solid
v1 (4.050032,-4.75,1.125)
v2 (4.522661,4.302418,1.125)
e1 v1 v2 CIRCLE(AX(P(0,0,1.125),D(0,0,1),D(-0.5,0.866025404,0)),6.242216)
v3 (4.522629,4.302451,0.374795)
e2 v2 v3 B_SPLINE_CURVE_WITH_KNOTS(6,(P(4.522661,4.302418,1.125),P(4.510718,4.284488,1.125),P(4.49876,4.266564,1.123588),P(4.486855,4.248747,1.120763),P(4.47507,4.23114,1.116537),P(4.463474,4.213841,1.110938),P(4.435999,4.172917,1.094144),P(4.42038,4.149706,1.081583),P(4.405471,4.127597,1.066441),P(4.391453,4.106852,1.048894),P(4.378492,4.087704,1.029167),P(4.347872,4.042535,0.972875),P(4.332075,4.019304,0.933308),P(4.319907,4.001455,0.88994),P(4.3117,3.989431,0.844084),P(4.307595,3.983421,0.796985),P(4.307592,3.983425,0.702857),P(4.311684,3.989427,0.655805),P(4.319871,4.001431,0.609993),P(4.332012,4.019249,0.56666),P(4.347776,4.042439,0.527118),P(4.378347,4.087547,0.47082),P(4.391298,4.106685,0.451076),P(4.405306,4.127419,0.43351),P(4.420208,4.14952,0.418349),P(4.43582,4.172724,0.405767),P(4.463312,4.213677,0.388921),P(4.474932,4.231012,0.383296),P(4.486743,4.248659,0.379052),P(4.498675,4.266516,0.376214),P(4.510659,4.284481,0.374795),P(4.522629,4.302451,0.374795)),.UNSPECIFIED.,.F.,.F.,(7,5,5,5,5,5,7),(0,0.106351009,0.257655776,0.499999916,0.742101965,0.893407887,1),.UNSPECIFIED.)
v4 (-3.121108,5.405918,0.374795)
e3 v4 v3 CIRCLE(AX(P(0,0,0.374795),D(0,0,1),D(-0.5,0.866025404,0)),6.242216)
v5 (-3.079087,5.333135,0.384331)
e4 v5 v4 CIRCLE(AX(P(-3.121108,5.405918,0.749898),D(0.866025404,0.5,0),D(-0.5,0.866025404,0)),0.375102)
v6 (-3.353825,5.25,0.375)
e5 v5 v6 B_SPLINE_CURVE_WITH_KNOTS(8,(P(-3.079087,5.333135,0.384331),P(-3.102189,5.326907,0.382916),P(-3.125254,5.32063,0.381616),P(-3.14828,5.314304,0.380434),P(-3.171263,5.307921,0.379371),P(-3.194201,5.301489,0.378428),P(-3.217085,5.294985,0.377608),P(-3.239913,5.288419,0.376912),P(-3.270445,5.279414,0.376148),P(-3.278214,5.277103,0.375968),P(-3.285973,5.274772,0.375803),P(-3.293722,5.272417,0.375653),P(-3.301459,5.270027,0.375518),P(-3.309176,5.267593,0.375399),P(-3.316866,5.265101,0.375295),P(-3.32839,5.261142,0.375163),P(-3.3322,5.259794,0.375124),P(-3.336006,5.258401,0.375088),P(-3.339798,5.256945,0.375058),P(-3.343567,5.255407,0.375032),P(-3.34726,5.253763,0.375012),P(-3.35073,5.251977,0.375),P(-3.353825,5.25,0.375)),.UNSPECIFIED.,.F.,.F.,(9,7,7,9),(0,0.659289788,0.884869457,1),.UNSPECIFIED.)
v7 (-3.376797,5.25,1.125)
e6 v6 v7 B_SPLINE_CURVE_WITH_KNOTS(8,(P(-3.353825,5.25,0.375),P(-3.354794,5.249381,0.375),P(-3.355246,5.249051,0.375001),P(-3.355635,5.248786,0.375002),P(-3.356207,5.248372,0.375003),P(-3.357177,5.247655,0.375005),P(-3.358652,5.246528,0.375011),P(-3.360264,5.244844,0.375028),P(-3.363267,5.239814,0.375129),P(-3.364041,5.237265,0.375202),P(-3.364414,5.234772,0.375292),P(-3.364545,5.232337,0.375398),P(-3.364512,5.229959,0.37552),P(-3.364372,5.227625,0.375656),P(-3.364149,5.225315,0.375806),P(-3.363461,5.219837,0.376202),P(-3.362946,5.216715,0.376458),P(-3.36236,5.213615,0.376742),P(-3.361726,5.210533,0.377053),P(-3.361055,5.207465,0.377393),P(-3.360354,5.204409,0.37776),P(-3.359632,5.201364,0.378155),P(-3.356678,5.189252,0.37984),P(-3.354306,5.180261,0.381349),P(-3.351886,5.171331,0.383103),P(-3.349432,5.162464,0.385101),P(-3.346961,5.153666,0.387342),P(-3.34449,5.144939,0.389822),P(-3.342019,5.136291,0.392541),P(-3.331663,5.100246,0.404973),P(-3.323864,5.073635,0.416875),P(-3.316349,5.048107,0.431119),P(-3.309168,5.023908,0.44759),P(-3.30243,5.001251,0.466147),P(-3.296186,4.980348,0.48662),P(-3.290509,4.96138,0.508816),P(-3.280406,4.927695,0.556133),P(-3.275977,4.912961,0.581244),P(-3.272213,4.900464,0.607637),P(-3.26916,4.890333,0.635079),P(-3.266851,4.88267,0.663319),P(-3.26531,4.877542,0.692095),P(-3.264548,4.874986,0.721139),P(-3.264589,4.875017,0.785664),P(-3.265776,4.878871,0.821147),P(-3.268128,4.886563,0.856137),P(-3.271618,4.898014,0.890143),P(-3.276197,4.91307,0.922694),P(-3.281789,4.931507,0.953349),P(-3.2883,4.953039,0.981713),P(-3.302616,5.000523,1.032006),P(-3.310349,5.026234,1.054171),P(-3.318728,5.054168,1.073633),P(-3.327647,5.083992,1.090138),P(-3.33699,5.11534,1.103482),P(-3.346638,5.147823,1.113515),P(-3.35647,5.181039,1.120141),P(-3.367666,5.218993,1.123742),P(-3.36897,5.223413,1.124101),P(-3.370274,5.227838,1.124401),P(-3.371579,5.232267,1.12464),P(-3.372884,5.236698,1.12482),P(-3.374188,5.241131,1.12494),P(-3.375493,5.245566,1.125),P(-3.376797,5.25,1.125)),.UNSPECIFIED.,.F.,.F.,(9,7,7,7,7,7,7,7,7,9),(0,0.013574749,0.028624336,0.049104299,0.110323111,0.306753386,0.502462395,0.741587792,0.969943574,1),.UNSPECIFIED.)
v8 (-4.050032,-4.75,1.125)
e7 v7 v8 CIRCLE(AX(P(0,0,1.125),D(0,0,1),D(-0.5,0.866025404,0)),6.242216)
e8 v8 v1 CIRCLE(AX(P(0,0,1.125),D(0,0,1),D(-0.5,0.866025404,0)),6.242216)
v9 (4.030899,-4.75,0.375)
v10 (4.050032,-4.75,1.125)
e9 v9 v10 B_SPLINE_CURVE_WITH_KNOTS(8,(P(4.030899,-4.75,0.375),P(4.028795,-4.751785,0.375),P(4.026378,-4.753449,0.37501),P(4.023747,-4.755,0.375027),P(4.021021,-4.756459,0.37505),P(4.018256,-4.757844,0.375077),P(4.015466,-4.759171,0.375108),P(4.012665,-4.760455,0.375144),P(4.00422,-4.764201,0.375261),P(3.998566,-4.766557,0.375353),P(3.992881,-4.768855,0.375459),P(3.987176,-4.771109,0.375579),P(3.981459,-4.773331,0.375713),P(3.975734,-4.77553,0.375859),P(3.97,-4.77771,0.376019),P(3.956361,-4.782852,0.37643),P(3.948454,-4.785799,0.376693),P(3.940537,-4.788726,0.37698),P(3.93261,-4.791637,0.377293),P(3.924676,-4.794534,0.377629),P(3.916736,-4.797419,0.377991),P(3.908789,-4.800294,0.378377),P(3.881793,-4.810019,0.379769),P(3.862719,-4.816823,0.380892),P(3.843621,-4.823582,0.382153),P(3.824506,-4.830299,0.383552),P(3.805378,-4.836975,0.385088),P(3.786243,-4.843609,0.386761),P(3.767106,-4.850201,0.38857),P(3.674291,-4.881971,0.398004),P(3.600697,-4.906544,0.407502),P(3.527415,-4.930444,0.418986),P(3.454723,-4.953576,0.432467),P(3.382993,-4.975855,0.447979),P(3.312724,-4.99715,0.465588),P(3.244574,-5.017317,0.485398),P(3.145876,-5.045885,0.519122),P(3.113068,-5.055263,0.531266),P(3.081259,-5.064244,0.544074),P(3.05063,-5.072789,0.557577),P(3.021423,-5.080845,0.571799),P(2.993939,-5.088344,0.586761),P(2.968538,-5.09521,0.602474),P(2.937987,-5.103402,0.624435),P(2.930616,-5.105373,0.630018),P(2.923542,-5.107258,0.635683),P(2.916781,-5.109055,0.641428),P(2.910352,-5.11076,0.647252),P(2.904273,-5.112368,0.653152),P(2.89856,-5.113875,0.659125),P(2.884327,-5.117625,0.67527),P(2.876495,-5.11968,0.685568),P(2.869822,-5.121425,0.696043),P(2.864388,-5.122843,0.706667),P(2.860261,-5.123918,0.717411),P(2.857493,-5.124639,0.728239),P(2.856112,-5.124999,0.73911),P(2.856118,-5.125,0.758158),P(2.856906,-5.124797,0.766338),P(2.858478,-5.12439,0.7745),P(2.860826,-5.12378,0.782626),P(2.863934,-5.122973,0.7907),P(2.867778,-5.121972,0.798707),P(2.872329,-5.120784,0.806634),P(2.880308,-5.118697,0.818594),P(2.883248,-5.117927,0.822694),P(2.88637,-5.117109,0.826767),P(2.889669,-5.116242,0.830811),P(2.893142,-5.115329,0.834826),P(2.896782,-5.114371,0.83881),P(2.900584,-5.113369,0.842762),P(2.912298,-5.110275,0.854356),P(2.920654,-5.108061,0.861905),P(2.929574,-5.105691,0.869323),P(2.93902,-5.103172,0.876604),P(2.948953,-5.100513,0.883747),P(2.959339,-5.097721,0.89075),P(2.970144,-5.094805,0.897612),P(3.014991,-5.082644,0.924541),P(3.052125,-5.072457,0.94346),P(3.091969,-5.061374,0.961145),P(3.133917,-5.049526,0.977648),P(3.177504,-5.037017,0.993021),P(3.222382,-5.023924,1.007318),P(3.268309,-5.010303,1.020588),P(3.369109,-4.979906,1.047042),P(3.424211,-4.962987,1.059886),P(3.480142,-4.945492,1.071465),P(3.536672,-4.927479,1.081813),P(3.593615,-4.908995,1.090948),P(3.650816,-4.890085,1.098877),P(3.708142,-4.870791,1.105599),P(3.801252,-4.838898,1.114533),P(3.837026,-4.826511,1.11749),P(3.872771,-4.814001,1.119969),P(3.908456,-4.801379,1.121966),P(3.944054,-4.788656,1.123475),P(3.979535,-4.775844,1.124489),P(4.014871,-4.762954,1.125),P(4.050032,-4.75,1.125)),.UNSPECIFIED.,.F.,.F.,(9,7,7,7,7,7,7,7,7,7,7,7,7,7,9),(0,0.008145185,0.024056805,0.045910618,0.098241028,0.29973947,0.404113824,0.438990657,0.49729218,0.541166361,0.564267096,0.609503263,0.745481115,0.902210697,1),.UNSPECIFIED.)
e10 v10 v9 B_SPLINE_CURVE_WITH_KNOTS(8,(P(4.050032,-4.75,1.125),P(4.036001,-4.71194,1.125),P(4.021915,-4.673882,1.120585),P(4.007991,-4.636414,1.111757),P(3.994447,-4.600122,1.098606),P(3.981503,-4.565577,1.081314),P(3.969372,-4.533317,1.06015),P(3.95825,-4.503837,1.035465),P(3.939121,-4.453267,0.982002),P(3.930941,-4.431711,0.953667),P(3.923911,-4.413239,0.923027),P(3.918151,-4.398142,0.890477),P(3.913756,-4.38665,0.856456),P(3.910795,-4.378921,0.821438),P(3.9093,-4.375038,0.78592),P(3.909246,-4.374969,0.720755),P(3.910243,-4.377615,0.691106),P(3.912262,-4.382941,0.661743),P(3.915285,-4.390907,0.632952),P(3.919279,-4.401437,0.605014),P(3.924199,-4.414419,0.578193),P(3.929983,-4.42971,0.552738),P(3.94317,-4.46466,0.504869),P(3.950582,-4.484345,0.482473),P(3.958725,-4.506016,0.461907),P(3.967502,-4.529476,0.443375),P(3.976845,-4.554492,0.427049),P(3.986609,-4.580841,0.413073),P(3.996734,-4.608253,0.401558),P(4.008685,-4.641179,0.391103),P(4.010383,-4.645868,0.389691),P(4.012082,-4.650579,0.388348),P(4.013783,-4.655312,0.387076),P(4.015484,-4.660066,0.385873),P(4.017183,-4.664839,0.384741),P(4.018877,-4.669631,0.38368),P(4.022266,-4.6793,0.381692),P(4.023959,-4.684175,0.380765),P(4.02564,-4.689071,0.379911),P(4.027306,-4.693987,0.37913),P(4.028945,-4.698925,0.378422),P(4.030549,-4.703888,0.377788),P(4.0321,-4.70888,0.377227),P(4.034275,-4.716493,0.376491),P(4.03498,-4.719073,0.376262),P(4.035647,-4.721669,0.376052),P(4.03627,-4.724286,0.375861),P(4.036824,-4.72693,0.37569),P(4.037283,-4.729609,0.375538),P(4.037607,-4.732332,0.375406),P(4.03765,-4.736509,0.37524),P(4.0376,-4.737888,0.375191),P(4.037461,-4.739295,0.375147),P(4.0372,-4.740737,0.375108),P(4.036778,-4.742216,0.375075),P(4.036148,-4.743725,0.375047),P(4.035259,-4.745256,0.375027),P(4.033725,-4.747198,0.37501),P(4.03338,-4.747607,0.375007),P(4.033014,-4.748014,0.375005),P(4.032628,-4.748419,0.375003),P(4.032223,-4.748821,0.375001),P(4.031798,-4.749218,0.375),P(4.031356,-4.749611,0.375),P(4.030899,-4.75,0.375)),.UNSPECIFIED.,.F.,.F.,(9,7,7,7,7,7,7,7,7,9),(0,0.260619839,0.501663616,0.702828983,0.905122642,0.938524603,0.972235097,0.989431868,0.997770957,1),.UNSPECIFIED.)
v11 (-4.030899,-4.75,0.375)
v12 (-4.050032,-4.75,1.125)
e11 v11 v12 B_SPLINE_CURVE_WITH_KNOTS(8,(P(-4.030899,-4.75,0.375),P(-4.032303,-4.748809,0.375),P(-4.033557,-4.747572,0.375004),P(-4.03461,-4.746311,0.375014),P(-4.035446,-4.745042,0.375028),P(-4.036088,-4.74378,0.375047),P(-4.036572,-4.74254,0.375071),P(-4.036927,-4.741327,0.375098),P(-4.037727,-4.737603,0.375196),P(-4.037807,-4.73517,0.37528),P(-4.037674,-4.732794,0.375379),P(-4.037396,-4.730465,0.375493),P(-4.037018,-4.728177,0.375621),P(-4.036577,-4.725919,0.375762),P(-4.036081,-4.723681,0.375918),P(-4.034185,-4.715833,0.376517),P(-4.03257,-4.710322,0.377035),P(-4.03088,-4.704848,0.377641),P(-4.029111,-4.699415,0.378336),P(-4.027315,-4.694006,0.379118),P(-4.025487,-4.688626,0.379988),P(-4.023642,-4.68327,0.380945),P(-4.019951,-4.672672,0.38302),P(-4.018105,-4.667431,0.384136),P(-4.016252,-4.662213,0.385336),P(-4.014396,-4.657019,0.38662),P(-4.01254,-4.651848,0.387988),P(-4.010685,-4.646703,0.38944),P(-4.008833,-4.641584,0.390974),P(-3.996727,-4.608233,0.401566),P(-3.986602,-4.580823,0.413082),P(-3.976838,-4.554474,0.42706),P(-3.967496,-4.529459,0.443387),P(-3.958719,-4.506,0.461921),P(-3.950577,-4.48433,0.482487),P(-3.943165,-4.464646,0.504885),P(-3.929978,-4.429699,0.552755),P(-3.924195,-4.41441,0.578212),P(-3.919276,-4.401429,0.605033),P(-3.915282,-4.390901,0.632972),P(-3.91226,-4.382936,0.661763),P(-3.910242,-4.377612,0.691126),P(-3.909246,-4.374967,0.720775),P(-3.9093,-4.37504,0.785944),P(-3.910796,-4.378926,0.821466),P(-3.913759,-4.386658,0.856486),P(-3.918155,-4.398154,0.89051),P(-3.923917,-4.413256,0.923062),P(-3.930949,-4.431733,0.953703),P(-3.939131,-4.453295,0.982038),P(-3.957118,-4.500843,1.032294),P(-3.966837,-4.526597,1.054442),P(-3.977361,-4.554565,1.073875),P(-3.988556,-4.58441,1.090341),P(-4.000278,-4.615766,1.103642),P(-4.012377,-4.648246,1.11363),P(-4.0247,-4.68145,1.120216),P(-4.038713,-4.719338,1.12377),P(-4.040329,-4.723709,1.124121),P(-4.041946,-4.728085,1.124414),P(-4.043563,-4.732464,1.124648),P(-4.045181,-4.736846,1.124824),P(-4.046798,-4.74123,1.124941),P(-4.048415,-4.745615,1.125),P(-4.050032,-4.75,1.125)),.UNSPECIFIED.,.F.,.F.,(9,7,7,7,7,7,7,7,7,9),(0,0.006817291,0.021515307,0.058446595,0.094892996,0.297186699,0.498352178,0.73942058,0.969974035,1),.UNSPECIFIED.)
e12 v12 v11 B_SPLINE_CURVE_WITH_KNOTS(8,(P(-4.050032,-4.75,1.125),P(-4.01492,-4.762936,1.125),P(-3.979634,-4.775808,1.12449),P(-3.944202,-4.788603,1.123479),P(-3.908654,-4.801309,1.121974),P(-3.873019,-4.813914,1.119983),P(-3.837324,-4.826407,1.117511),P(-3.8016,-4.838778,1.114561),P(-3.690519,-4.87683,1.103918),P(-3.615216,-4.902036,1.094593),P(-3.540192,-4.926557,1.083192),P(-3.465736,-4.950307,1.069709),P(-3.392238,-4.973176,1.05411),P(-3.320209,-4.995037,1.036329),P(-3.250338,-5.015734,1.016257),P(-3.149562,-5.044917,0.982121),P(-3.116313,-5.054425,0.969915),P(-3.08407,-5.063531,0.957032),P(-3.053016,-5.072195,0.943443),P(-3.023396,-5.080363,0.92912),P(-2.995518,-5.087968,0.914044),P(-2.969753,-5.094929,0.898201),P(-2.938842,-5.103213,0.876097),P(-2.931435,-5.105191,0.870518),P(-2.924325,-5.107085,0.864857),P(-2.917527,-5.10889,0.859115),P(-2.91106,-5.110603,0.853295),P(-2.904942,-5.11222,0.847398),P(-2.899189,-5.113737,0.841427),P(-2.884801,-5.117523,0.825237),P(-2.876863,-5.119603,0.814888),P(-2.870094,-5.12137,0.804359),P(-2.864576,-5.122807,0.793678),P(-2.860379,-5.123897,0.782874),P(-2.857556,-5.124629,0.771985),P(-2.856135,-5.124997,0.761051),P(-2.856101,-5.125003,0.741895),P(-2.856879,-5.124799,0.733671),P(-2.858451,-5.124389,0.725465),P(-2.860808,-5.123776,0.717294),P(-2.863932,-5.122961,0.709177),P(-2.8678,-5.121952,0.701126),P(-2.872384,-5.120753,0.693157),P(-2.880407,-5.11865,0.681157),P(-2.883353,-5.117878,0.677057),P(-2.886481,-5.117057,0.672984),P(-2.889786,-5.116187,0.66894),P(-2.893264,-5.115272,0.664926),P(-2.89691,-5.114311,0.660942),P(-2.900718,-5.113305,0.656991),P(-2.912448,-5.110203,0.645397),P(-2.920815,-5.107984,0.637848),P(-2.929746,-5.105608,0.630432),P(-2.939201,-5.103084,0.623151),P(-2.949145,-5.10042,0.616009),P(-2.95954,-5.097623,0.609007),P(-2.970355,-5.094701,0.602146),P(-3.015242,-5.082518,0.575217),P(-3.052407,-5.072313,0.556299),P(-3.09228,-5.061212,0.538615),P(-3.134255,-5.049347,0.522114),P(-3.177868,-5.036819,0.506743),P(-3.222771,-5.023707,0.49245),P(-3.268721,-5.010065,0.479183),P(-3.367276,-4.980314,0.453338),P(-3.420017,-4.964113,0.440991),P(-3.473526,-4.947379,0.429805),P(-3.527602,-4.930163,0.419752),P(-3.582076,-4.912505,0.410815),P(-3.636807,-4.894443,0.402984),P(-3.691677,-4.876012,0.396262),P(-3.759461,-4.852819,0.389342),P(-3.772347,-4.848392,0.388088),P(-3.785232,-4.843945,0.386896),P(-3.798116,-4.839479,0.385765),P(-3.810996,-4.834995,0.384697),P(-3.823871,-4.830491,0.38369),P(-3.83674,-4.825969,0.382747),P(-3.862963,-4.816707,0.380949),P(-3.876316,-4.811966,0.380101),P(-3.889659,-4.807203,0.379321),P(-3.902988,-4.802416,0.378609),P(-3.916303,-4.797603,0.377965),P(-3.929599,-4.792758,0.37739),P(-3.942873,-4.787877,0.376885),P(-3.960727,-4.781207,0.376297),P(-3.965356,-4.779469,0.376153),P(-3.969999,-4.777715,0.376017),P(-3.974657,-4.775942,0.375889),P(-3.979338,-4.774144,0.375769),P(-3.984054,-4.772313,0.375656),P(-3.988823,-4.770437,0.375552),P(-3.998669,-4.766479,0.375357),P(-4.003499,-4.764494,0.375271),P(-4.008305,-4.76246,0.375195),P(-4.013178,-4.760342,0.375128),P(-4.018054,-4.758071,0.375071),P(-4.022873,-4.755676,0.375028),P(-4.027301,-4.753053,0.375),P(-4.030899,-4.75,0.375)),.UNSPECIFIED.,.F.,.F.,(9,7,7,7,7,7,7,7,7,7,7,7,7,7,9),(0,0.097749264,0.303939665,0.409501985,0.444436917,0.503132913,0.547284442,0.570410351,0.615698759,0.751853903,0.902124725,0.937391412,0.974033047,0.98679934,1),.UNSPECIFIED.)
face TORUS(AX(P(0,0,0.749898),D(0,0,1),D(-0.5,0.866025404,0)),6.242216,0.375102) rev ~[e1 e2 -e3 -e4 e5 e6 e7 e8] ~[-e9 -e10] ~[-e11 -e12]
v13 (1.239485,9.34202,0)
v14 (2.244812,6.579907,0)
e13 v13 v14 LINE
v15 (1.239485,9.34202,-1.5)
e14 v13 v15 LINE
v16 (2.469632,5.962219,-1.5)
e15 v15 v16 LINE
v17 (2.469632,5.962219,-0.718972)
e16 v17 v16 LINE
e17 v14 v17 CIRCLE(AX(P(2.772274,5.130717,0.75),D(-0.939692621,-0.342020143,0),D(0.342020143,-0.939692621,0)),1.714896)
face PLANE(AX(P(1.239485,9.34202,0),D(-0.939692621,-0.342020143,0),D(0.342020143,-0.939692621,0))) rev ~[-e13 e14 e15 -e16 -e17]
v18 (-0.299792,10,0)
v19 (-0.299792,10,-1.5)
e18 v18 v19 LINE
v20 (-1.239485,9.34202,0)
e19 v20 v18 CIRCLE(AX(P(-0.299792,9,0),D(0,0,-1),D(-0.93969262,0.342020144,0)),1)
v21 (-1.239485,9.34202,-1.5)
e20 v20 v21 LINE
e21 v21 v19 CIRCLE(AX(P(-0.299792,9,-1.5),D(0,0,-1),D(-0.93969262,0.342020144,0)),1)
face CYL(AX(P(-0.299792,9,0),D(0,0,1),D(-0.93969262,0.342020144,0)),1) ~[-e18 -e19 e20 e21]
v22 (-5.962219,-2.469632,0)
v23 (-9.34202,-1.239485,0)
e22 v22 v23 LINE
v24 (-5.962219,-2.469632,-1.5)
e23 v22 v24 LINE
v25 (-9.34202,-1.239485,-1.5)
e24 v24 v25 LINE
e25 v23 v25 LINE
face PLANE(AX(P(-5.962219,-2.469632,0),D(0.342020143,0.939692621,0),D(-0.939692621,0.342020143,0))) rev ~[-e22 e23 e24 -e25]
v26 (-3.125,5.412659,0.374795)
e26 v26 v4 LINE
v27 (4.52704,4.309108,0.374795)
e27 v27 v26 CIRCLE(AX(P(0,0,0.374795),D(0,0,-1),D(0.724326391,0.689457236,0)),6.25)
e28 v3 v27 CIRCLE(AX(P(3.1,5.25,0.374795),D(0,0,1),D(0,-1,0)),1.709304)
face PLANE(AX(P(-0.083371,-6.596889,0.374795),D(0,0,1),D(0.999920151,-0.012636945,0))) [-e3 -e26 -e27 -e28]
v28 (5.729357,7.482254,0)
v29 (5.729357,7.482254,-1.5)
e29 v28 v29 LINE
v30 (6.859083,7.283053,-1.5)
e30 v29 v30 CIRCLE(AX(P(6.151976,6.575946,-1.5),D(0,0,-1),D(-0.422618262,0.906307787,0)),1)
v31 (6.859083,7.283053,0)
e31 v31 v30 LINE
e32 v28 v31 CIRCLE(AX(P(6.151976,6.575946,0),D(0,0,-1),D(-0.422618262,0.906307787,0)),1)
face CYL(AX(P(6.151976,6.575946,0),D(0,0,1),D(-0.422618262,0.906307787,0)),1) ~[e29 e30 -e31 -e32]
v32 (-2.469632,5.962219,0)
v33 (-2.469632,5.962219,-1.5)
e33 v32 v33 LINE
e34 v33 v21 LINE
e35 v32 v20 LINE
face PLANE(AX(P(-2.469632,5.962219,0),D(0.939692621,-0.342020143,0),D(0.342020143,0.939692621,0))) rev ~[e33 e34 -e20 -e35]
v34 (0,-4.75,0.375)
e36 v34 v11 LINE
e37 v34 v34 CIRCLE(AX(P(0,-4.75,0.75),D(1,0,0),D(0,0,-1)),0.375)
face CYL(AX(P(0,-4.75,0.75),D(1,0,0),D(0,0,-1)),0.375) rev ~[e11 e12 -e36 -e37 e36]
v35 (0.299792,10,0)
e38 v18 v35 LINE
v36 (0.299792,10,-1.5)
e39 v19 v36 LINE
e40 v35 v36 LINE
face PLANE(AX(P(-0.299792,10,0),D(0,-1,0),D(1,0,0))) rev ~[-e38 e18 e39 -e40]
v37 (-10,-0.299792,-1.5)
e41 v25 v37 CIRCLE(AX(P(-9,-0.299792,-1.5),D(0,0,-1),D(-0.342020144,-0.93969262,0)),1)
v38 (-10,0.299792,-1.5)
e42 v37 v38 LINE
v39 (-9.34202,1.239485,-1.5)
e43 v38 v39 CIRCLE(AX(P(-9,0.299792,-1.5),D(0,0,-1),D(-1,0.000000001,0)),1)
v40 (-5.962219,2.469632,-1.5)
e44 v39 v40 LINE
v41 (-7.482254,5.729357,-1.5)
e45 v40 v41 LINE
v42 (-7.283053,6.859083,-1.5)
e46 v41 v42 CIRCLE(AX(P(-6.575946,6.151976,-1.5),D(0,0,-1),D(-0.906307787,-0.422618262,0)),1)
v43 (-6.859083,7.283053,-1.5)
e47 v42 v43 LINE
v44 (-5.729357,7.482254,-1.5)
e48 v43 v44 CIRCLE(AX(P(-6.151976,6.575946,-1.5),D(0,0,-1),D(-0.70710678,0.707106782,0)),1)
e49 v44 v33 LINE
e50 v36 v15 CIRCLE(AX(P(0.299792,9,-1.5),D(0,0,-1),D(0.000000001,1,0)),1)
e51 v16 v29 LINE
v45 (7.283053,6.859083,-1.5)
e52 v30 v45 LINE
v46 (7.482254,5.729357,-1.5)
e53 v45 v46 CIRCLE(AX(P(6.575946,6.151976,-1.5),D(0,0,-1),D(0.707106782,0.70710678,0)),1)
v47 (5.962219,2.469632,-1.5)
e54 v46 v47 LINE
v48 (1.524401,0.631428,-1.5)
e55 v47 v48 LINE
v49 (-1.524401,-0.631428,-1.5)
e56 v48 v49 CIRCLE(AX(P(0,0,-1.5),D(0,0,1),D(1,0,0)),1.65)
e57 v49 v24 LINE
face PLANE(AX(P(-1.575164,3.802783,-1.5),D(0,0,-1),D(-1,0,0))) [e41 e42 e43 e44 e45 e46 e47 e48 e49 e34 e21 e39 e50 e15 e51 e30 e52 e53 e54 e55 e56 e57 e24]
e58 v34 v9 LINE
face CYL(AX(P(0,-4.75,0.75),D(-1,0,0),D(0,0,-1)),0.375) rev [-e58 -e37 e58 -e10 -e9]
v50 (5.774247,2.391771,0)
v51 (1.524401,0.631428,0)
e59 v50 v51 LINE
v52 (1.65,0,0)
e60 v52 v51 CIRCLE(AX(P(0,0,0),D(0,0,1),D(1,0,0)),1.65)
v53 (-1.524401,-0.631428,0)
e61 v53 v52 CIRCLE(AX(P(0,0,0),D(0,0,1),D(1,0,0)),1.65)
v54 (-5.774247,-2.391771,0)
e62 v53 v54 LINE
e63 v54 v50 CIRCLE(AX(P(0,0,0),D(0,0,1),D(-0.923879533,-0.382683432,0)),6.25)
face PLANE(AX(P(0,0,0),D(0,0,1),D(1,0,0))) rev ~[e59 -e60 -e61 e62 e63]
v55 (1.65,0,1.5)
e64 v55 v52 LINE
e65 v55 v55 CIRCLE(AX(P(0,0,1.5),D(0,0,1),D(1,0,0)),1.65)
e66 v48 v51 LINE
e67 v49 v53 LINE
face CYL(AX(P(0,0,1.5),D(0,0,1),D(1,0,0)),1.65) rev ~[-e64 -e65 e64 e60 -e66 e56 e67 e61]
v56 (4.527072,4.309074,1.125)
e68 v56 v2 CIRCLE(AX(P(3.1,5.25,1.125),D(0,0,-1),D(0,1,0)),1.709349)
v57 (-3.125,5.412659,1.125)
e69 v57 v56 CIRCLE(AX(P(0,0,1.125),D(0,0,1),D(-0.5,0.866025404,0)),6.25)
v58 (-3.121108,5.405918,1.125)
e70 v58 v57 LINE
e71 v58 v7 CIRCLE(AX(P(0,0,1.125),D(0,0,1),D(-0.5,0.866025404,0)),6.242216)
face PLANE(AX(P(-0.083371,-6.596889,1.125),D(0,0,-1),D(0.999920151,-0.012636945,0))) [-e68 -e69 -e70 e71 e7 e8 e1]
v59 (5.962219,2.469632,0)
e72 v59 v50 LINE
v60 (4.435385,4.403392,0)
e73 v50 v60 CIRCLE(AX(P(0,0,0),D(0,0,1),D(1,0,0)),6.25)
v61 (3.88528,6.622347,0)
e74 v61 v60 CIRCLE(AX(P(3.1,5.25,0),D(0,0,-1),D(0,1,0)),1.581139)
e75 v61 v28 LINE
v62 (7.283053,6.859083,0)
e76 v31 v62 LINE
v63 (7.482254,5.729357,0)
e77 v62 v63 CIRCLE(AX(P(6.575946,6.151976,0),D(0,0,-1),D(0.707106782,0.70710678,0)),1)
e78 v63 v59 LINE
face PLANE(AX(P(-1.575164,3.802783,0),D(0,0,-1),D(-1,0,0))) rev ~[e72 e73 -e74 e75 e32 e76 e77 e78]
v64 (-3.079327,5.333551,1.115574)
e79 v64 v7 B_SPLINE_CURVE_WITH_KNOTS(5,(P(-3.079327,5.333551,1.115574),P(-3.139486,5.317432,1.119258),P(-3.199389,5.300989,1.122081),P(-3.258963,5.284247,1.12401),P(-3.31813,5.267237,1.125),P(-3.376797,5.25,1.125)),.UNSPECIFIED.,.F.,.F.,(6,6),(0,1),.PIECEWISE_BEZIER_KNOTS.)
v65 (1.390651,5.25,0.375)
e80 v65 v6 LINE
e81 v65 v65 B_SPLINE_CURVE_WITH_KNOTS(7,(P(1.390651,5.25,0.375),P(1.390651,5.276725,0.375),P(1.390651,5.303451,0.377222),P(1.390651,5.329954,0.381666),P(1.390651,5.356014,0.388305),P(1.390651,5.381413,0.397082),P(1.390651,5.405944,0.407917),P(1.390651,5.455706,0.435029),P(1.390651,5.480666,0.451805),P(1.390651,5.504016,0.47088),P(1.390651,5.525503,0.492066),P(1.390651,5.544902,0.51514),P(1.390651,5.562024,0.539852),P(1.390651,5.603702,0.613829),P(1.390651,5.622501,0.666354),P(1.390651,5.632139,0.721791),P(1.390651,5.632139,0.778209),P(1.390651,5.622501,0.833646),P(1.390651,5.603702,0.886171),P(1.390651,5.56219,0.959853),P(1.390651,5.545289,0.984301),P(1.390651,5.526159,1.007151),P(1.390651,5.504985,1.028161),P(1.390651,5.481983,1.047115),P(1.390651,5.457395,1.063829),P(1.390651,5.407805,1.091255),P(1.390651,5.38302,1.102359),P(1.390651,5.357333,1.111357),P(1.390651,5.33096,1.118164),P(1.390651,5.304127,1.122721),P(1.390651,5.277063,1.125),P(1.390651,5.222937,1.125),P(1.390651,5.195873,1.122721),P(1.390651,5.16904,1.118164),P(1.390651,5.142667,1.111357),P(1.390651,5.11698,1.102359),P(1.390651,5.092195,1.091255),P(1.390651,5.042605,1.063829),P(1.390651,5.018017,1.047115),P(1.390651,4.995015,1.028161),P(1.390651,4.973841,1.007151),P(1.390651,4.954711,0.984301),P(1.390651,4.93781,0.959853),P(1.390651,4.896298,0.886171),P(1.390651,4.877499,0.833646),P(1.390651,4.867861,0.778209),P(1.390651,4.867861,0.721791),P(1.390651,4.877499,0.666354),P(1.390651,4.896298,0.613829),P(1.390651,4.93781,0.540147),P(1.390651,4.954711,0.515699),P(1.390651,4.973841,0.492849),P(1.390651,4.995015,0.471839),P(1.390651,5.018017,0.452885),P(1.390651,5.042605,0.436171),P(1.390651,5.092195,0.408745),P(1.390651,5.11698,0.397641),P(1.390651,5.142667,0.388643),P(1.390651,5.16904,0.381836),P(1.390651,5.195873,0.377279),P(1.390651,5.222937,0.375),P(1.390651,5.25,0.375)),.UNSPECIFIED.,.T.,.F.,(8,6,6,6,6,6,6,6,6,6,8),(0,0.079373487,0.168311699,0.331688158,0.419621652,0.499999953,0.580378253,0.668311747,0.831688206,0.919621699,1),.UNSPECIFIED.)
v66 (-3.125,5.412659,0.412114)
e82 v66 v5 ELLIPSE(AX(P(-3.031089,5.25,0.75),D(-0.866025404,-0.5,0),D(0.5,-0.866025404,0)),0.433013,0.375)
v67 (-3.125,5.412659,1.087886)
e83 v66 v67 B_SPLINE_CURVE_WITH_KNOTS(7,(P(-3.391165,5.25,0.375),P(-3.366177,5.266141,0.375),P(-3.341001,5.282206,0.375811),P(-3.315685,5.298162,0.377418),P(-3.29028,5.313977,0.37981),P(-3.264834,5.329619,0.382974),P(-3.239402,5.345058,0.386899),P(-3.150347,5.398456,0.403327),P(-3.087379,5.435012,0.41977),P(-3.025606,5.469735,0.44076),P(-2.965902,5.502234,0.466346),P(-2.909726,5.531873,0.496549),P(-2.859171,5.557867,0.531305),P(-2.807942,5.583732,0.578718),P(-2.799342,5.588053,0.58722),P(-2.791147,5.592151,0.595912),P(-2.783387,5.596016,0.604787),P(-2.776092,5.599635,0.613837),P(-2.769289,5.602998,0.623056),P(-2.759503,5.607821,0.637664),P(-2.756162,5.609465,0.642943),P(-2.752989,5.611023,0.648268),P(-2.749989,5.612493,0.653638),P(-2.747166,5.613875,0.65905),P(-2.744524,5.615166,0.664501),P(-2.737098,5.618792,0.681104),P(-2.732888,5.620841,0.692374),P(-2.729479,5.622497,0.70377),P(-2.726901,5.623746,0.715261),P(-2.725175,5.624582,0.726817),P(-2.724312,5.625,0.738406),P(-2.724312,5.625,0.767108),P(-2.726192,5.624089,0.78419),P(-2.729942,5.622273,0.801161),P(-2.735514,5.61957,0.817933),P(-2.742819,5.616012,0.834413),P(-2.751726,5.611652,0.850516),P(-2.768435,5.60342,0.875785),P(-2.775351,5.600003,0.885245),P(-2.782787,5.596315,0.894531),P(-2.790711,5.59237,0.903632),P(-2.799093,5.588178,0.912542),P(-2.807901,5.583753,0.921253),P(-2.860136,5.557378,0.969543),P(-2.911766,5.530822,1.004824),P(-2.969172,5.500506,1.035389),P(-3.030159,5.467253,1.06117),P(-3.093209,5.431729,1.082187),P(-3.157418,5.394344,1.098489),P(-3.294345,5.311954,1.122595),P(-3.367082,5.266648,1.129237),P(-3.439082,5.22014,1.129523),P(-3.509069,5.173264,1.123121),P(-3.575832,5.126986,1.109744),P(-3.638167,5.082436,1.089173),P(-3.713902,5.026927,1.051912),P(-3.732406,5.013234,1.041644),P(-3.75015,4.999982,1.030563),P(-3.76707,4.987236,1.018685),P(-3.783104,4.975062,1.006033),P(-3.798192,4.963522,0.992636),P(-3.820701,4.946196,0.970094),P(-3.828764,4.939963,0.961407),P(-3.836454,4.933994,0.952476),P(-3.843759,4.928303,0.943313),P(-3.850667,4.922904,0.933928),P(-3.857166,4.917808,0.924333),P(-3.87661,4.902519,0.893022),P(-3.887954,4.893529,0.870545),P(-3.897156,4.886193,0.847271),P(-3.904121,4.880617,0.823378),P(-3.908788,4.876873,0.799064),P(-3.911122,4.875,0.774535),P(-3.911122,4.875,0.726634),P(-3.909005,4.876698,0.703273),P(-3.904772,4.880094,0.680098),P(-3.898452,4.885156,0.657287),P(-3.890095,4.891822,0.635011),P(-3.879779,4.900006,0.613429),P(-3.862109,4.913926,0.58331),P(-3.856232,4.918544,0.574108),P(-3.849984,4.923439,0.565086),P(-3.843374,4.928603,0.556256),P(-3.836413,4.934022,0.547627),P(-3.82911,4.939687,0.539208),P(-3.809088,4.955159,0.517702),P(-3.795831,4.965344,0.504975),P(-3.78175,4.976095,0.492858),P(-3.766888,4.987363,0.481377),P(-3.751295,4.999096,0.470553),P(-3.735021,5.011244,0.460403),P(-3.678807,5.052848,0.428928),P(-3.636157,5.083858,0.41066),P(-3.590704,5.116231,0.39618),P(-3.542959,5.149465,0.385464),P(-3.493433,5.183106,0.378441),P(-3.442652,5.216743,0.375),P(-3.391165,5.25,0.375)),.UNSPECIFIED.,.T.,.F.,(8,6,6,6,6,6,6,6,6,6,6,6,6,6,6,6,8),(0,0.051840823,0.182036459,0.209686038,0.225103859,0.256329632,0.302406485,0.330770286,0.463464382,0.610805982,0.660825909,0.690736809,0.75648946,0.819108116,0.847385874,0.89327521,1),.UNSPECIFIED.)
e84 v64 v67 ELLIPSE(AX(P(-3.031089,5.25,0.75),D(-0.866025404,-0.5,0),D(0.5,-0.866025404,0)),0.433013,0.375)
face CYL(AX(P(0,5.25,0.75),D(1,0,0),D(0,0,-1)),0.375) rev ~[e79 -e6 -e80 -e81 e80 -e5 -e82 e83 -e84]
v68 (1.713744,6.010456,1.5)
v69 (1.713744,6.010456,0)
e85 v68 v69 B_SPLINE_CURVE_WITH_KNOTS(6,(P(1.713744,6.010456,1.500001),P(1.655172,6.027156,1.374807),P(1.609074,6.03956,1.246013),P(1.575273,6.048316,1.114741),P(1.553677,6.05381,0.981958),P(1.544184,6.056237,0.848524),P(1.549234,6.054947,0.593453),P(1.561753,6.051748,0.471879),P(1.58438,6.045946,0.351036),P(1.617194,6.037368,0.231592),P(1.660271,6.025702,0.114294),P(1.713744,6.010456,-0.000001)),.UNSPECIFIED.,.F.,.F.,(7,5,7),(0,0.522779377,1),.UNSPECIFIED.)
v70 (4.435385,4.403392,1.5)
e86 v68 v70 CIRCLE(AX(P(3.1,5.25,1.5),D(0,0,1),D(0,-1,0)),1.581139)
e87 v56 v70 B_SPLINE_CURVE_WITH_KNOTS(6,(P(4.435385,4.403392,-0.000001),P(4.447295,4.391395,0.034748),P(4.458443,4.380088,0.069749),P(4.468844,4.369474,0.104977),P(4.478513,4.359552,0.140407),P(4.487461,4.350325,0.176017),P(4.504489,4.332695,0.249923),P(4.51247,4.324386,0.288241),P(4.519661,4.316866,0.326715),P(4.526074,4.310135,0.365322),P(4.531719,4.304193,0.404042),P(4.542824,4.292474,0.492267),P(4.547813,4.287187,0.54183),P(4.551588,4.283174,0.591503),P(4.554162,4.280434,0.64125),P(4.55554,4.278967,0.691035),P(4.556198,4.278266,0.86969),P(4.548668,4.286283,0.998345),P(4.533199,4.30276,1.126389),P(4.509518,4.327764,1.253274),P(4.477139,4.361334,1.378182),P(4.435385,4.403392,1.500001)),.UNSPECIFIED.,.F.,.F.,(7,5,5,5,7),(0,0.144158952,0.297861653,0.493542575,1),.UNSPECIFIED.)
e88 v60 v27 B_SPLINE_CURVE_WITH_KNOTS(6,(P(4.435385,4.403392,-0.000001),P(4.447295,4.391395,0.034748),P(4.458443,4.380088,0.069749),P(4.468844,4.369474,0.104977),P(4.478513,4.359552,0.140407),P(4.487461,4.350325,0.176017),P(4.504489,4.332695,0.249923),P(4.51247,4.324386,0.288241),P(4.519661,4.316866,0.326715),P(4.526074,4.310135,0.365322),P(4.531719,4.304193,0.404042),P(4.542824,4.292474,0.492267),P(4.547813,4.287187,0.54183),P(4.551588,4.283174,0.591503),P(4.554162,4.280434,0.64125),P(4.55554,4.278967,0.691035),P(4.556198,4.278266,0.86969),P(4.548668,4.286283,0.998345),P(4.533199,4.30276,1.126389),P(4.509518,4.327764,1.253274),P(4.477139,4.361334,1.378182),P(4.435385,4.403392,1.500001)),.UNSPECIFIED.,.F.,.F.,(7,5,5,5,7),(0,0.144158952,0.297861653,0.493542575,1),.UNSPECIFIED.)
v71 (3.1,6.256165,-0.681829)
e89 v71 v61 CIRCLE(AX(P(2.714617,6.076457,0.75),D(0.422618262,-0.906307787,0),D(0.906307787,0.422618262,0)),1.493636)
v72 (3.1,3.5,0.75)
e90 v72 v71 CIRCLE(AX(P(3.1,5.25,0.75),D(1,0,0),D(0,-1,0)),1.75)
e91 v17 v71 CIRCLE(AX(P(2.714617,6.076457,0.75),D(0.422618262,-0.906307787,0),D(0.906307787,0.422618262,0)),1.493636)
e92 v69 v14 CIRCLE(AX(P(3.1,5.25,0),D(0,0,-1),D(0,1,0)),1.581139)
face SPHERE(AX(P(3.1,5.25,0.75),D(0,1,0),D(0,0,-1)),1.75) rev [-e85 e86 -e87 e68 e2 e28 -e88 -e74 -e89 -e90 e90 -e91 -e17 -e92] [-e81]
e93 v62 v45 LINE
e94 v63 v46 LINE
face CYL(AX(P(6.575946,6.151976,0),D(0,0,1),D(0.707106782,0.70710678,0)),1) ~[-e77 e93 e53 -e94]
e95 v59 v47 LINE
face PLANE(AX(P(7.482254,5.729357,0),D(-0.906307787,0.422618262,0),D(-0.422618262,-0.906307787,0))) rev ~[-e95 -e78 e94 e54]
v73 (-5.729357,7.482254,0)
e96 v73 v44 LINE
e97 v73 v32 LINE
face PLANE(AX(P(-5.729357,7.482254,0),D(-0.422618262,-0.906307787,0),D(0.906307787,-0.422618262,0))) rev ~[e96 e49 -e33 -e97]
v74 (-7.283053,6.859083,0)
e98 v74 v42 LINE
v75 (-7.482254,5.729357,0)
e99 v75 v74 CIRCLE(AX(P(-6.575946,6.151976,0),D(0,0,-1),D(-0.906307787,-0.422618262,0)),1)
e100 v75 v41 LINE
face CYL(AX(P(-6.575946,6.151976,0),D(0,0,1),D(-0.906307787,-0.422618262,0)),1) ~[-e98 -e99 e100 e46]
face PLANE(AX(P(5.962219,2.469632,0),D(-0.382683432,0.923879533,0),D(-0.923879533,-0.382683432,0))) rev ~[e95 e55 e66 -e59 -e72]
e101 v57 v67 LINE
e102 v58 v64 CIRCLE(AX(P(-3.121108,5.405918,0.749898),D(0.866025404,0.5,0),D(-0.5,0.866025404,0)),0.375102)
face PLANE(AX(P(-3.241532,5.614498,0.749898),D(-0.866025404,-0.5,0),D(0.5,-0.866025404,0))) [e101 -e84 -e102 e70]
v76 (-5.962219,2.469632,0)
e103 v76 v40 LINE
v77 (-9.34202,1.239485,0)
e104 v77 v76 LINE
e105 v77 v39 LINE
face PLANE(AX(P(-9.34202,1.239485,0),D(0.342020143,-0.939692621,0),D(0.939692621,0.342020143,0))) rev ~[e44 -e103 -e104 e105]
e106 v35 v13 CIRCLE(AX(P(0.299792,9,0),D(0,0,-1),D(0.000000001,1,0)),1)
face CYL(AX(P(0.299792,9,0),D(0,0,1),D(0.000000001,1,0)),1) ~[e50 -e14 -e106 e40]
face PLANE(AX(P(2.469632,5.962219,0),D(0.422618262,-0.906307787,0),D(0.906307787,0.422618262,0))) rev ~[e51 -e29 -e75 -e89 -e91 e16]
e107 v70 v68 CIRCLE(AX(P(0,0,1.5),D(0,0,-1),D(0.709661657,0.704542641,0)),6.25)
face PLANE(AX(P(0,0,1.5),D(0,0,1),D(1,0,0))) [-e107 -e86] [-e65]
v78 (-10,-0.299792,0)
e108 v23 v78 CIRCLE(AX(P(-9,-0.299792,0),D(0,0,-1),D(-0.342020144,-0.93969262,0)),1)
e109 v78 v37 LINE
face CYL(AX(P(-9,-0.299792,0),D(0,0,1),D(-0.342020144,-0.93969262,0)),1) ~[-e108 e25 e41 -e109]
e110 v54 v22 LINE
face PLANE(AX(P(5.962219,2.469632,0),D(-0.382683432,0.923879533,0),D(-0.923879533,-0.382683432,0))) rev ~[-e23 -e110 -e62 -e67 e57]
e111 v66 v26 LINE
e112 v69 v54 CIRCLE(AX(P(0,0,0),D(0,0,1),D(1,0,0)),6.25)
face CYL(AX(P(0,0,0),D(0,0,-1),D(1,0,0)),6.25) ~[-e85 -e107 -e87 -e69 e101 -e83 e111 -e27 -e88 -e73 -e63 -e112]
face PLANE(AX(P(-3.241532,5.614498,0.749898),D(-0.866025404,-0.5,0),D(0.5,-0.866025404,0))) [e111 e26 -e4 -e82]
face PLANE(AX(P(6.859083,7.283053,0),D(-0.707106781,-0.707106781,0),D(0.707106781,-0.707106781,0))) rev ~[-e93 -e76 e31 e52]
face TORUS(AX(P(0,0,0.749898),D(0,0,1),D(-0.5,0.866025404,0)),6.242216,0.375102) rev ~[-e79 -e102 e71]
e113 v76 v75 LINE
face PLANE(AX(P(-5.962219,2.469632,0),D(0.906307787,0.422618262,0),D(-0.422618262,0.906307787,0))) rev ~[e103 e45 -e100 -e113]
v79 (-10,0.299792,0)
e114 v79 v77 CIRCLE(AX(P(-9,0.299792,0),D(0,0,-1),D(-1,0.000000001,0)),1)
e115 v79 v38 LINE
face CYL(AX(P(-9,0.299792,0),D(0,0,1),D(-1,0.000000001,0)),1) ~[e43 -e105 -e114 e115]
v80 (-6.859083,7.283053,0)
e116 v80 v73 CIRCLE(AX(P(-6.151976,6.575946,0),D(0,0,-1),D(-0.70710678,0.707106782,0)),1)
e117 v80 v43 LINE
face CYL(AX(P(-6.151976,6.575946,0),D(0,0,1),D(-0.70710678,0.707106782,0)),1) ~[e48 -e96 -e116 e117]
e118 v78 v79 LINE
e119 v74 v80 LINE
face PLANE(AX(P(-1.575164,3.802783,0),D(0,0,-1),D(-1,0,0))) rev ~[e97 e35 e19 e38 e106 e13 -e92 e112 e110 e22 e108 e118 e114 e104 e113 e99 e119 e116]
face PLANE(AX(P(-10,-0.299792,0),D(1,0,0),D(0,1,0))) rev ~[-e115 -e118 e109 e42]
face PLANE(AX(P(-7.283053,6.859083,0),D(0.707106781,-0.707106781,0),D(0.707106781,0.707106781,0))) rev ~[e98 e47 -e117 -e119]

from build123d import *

# Parameters (mm, degrees)
SKETCH1_R                          = 6.25
BODY_DEPTH                         = 1.5
SKETCH2_R                          = 0.375
HOLE_TO_TRAP_CABLE_KNOT_DEPTH      = 10
HOLE_TO_TRAP_CABLE_KNOT_DEPTH_BACK = 7.25
THUMB_GRIP_DEPTH                   = 1.5
SKETCH13_R                         = 1.65
HOLE_FOR_SCREW_DEPTH               = 4


with BuildPart() as part:
    # Sketch1 → body (new body)
    with BuildSketch(Plane.XY):
        Circle(SKETCH1_R)
    extrude(amount=BODY_DEPTH)

    # Sketch2 → Hole to trap cable knot (cut, two sides)
    with BuildSketch(Plane(origin=(0, 0, 0), x_dir=(0, 0, -1), z_dir=(1, 0, 0))) as hole_to_trap_cable_knot_sk:
        with Locations((-0.75, 5.25)):
            Circle(SKETCH2_R)
        with Locations((-0.75, -4.75)):
            Circle(SKETCH2_R)
    extrude(amount=HOLE_TO_TRAP_CABLE_KNOT_DEPTH, mode=Mode.SUBTRACT)
    extrude(hole_to_trap_cable_knot_sk.sketch, amount=-HOLE_TO_TRAP_CABLE_KNOT_DEPTH_BACK, mode=Mode.SUBTRACT)

    # track for cable: sweep along a path in Sketch6
    with BuildLine(Plane.XY.offset(1.875)) as track_for_cable_path:
        ThreePointArc((-3.125, 5.412658774), (-0.078980905, -6.249500941), (3.260789939, 5.331955455))
    # Sketch10 → track for cable (sweep, cut)
    with BuildSketch(Plane(origin=(-5.412658774, 9.375, 0), x_dir=(-0.5, 0.866025404, 0), z_dir=(-0.866025404, -0.5, 0))):
        with BuildLine():
            Line((-4.583101682, -1.125), (-3.872701536, -1.125))
            Line((-3.872701536, -1.125), (-3.872701536, -0.374795087))
            Line((-3.872701536, -0.374795087), (-4.583101682, -0.374795087))
            ThreePointArc((-4.583101682, -0.374795087), (-4.958204138, -0.749897543), (-4.583101682, -1.125))
        make_face()
    sweep(path=track_for_cable_path.line, mode=Mode.SUBTRACT)

    # Sketch14 → thumb grip (add)
    with BuildSketch(Plane(origin=(0, 0, 0), x_dir=(-1, 0, 0), z_dir=(0, 0, -1))):
        with BuildLine():
            Line((5.729357486, 7.4822541), (2.469632038, 5.96221916))
            Line((2.469632038, 5.96221916), (1.239485083, 9.342020143))
            ThreePointArc((1.239485083, 9.342020143), (0.873368898, 9.819152044), (0.299792462, 10))
            Line((0.299792462, 10), (-0.299792462, 10))
            ThreePointArc((-0.299792462, 10), (-0.873368898, 9.819152044), (-1.239485083, 9.342020143))
            Line((-1.239485083, 9.342020143), (-2.469632038, 5.96221916))
            Line((-2.469632038, 5.96221916), (-5.729357486, 7.4822541))
            ThreePointArc((-5.729357486, 7.4822541), (-6.325623926, 7.560754066), (-6.859082529, 7.283053095))
            Line((-6.859082529, 7.283053095), (-7.283053095, 6.859082529))
            ThreePointArc((-7.283053095, 6.859082529), (-7.560754066, 6.325623926), (-7.4822541, 5.729357486))
            Line((-7.4822541, 5.729357486), (-5.96221916, 2.469632038))
            Line((-5.96221916, 2.469632038), (5.96221916, -2.469632038))
            Line((5.96221916, -2.469632038), (9.342020143, -1.239485083))
            ThreePointArc((9.342020143, -1.239485083), (9.819152044, -0.873368898), (10, -0.299792462))
            Line((10, -0.299792462), (10, 0.299792462))
            ThreePointArc((10, 0.299792462), (9.819152044, 0.873368898), (9.342020143, 1.239485083))
            Line((9.342020143, 1.239485083), (5.96221916, 2.469632038))
            Line((5.96221916, 2.469632038), (7.4822541, 5.729357486))
            ThreePointArc((7.4822541, 5.729357486), (7.560754066, 6.325623926), (7.283053095, 6.859082529))
            Line((7.283053095, 6.859082529), (6.859082529, 7.283053095))
            ThreePointArc((6.859082529, 7.283053095), (6.325623926, 7.560754066), (5.729357486, 7.4822541))
        make_face()
    extrude(amount=THUMB_GRIP_DEPTH)

    # Sketch13 → hole for screw (cut, through all)
    with BuildSketch(Plane.XY.offset(1.5)):
        Circle(SKETCH13_R)
    extrude(amount=-HOLE_FOR_SCREW_DEPTH, mode=Mode.SUBTRACT)

    # Sketch20 → trap for ball (revolve, cut)
    with BuildSketch(Plane(origin=(3.1, 0, 0), x_dir=(0, 0, -1), z_dir=(1, 0, 0))):
        with BuildLine():
            Line((-0.75, 7), (-0.75, 3.5))
            ThreePointArc((-0.75, 3.5), (1, 5.25), (-0.75, 7))
        make_face()
    revolve(axis=Axis((3.1, 7.793428849, 0.75), (0, -1, 0)), mode=Mode.SUBTRACT)


solid = part.part
